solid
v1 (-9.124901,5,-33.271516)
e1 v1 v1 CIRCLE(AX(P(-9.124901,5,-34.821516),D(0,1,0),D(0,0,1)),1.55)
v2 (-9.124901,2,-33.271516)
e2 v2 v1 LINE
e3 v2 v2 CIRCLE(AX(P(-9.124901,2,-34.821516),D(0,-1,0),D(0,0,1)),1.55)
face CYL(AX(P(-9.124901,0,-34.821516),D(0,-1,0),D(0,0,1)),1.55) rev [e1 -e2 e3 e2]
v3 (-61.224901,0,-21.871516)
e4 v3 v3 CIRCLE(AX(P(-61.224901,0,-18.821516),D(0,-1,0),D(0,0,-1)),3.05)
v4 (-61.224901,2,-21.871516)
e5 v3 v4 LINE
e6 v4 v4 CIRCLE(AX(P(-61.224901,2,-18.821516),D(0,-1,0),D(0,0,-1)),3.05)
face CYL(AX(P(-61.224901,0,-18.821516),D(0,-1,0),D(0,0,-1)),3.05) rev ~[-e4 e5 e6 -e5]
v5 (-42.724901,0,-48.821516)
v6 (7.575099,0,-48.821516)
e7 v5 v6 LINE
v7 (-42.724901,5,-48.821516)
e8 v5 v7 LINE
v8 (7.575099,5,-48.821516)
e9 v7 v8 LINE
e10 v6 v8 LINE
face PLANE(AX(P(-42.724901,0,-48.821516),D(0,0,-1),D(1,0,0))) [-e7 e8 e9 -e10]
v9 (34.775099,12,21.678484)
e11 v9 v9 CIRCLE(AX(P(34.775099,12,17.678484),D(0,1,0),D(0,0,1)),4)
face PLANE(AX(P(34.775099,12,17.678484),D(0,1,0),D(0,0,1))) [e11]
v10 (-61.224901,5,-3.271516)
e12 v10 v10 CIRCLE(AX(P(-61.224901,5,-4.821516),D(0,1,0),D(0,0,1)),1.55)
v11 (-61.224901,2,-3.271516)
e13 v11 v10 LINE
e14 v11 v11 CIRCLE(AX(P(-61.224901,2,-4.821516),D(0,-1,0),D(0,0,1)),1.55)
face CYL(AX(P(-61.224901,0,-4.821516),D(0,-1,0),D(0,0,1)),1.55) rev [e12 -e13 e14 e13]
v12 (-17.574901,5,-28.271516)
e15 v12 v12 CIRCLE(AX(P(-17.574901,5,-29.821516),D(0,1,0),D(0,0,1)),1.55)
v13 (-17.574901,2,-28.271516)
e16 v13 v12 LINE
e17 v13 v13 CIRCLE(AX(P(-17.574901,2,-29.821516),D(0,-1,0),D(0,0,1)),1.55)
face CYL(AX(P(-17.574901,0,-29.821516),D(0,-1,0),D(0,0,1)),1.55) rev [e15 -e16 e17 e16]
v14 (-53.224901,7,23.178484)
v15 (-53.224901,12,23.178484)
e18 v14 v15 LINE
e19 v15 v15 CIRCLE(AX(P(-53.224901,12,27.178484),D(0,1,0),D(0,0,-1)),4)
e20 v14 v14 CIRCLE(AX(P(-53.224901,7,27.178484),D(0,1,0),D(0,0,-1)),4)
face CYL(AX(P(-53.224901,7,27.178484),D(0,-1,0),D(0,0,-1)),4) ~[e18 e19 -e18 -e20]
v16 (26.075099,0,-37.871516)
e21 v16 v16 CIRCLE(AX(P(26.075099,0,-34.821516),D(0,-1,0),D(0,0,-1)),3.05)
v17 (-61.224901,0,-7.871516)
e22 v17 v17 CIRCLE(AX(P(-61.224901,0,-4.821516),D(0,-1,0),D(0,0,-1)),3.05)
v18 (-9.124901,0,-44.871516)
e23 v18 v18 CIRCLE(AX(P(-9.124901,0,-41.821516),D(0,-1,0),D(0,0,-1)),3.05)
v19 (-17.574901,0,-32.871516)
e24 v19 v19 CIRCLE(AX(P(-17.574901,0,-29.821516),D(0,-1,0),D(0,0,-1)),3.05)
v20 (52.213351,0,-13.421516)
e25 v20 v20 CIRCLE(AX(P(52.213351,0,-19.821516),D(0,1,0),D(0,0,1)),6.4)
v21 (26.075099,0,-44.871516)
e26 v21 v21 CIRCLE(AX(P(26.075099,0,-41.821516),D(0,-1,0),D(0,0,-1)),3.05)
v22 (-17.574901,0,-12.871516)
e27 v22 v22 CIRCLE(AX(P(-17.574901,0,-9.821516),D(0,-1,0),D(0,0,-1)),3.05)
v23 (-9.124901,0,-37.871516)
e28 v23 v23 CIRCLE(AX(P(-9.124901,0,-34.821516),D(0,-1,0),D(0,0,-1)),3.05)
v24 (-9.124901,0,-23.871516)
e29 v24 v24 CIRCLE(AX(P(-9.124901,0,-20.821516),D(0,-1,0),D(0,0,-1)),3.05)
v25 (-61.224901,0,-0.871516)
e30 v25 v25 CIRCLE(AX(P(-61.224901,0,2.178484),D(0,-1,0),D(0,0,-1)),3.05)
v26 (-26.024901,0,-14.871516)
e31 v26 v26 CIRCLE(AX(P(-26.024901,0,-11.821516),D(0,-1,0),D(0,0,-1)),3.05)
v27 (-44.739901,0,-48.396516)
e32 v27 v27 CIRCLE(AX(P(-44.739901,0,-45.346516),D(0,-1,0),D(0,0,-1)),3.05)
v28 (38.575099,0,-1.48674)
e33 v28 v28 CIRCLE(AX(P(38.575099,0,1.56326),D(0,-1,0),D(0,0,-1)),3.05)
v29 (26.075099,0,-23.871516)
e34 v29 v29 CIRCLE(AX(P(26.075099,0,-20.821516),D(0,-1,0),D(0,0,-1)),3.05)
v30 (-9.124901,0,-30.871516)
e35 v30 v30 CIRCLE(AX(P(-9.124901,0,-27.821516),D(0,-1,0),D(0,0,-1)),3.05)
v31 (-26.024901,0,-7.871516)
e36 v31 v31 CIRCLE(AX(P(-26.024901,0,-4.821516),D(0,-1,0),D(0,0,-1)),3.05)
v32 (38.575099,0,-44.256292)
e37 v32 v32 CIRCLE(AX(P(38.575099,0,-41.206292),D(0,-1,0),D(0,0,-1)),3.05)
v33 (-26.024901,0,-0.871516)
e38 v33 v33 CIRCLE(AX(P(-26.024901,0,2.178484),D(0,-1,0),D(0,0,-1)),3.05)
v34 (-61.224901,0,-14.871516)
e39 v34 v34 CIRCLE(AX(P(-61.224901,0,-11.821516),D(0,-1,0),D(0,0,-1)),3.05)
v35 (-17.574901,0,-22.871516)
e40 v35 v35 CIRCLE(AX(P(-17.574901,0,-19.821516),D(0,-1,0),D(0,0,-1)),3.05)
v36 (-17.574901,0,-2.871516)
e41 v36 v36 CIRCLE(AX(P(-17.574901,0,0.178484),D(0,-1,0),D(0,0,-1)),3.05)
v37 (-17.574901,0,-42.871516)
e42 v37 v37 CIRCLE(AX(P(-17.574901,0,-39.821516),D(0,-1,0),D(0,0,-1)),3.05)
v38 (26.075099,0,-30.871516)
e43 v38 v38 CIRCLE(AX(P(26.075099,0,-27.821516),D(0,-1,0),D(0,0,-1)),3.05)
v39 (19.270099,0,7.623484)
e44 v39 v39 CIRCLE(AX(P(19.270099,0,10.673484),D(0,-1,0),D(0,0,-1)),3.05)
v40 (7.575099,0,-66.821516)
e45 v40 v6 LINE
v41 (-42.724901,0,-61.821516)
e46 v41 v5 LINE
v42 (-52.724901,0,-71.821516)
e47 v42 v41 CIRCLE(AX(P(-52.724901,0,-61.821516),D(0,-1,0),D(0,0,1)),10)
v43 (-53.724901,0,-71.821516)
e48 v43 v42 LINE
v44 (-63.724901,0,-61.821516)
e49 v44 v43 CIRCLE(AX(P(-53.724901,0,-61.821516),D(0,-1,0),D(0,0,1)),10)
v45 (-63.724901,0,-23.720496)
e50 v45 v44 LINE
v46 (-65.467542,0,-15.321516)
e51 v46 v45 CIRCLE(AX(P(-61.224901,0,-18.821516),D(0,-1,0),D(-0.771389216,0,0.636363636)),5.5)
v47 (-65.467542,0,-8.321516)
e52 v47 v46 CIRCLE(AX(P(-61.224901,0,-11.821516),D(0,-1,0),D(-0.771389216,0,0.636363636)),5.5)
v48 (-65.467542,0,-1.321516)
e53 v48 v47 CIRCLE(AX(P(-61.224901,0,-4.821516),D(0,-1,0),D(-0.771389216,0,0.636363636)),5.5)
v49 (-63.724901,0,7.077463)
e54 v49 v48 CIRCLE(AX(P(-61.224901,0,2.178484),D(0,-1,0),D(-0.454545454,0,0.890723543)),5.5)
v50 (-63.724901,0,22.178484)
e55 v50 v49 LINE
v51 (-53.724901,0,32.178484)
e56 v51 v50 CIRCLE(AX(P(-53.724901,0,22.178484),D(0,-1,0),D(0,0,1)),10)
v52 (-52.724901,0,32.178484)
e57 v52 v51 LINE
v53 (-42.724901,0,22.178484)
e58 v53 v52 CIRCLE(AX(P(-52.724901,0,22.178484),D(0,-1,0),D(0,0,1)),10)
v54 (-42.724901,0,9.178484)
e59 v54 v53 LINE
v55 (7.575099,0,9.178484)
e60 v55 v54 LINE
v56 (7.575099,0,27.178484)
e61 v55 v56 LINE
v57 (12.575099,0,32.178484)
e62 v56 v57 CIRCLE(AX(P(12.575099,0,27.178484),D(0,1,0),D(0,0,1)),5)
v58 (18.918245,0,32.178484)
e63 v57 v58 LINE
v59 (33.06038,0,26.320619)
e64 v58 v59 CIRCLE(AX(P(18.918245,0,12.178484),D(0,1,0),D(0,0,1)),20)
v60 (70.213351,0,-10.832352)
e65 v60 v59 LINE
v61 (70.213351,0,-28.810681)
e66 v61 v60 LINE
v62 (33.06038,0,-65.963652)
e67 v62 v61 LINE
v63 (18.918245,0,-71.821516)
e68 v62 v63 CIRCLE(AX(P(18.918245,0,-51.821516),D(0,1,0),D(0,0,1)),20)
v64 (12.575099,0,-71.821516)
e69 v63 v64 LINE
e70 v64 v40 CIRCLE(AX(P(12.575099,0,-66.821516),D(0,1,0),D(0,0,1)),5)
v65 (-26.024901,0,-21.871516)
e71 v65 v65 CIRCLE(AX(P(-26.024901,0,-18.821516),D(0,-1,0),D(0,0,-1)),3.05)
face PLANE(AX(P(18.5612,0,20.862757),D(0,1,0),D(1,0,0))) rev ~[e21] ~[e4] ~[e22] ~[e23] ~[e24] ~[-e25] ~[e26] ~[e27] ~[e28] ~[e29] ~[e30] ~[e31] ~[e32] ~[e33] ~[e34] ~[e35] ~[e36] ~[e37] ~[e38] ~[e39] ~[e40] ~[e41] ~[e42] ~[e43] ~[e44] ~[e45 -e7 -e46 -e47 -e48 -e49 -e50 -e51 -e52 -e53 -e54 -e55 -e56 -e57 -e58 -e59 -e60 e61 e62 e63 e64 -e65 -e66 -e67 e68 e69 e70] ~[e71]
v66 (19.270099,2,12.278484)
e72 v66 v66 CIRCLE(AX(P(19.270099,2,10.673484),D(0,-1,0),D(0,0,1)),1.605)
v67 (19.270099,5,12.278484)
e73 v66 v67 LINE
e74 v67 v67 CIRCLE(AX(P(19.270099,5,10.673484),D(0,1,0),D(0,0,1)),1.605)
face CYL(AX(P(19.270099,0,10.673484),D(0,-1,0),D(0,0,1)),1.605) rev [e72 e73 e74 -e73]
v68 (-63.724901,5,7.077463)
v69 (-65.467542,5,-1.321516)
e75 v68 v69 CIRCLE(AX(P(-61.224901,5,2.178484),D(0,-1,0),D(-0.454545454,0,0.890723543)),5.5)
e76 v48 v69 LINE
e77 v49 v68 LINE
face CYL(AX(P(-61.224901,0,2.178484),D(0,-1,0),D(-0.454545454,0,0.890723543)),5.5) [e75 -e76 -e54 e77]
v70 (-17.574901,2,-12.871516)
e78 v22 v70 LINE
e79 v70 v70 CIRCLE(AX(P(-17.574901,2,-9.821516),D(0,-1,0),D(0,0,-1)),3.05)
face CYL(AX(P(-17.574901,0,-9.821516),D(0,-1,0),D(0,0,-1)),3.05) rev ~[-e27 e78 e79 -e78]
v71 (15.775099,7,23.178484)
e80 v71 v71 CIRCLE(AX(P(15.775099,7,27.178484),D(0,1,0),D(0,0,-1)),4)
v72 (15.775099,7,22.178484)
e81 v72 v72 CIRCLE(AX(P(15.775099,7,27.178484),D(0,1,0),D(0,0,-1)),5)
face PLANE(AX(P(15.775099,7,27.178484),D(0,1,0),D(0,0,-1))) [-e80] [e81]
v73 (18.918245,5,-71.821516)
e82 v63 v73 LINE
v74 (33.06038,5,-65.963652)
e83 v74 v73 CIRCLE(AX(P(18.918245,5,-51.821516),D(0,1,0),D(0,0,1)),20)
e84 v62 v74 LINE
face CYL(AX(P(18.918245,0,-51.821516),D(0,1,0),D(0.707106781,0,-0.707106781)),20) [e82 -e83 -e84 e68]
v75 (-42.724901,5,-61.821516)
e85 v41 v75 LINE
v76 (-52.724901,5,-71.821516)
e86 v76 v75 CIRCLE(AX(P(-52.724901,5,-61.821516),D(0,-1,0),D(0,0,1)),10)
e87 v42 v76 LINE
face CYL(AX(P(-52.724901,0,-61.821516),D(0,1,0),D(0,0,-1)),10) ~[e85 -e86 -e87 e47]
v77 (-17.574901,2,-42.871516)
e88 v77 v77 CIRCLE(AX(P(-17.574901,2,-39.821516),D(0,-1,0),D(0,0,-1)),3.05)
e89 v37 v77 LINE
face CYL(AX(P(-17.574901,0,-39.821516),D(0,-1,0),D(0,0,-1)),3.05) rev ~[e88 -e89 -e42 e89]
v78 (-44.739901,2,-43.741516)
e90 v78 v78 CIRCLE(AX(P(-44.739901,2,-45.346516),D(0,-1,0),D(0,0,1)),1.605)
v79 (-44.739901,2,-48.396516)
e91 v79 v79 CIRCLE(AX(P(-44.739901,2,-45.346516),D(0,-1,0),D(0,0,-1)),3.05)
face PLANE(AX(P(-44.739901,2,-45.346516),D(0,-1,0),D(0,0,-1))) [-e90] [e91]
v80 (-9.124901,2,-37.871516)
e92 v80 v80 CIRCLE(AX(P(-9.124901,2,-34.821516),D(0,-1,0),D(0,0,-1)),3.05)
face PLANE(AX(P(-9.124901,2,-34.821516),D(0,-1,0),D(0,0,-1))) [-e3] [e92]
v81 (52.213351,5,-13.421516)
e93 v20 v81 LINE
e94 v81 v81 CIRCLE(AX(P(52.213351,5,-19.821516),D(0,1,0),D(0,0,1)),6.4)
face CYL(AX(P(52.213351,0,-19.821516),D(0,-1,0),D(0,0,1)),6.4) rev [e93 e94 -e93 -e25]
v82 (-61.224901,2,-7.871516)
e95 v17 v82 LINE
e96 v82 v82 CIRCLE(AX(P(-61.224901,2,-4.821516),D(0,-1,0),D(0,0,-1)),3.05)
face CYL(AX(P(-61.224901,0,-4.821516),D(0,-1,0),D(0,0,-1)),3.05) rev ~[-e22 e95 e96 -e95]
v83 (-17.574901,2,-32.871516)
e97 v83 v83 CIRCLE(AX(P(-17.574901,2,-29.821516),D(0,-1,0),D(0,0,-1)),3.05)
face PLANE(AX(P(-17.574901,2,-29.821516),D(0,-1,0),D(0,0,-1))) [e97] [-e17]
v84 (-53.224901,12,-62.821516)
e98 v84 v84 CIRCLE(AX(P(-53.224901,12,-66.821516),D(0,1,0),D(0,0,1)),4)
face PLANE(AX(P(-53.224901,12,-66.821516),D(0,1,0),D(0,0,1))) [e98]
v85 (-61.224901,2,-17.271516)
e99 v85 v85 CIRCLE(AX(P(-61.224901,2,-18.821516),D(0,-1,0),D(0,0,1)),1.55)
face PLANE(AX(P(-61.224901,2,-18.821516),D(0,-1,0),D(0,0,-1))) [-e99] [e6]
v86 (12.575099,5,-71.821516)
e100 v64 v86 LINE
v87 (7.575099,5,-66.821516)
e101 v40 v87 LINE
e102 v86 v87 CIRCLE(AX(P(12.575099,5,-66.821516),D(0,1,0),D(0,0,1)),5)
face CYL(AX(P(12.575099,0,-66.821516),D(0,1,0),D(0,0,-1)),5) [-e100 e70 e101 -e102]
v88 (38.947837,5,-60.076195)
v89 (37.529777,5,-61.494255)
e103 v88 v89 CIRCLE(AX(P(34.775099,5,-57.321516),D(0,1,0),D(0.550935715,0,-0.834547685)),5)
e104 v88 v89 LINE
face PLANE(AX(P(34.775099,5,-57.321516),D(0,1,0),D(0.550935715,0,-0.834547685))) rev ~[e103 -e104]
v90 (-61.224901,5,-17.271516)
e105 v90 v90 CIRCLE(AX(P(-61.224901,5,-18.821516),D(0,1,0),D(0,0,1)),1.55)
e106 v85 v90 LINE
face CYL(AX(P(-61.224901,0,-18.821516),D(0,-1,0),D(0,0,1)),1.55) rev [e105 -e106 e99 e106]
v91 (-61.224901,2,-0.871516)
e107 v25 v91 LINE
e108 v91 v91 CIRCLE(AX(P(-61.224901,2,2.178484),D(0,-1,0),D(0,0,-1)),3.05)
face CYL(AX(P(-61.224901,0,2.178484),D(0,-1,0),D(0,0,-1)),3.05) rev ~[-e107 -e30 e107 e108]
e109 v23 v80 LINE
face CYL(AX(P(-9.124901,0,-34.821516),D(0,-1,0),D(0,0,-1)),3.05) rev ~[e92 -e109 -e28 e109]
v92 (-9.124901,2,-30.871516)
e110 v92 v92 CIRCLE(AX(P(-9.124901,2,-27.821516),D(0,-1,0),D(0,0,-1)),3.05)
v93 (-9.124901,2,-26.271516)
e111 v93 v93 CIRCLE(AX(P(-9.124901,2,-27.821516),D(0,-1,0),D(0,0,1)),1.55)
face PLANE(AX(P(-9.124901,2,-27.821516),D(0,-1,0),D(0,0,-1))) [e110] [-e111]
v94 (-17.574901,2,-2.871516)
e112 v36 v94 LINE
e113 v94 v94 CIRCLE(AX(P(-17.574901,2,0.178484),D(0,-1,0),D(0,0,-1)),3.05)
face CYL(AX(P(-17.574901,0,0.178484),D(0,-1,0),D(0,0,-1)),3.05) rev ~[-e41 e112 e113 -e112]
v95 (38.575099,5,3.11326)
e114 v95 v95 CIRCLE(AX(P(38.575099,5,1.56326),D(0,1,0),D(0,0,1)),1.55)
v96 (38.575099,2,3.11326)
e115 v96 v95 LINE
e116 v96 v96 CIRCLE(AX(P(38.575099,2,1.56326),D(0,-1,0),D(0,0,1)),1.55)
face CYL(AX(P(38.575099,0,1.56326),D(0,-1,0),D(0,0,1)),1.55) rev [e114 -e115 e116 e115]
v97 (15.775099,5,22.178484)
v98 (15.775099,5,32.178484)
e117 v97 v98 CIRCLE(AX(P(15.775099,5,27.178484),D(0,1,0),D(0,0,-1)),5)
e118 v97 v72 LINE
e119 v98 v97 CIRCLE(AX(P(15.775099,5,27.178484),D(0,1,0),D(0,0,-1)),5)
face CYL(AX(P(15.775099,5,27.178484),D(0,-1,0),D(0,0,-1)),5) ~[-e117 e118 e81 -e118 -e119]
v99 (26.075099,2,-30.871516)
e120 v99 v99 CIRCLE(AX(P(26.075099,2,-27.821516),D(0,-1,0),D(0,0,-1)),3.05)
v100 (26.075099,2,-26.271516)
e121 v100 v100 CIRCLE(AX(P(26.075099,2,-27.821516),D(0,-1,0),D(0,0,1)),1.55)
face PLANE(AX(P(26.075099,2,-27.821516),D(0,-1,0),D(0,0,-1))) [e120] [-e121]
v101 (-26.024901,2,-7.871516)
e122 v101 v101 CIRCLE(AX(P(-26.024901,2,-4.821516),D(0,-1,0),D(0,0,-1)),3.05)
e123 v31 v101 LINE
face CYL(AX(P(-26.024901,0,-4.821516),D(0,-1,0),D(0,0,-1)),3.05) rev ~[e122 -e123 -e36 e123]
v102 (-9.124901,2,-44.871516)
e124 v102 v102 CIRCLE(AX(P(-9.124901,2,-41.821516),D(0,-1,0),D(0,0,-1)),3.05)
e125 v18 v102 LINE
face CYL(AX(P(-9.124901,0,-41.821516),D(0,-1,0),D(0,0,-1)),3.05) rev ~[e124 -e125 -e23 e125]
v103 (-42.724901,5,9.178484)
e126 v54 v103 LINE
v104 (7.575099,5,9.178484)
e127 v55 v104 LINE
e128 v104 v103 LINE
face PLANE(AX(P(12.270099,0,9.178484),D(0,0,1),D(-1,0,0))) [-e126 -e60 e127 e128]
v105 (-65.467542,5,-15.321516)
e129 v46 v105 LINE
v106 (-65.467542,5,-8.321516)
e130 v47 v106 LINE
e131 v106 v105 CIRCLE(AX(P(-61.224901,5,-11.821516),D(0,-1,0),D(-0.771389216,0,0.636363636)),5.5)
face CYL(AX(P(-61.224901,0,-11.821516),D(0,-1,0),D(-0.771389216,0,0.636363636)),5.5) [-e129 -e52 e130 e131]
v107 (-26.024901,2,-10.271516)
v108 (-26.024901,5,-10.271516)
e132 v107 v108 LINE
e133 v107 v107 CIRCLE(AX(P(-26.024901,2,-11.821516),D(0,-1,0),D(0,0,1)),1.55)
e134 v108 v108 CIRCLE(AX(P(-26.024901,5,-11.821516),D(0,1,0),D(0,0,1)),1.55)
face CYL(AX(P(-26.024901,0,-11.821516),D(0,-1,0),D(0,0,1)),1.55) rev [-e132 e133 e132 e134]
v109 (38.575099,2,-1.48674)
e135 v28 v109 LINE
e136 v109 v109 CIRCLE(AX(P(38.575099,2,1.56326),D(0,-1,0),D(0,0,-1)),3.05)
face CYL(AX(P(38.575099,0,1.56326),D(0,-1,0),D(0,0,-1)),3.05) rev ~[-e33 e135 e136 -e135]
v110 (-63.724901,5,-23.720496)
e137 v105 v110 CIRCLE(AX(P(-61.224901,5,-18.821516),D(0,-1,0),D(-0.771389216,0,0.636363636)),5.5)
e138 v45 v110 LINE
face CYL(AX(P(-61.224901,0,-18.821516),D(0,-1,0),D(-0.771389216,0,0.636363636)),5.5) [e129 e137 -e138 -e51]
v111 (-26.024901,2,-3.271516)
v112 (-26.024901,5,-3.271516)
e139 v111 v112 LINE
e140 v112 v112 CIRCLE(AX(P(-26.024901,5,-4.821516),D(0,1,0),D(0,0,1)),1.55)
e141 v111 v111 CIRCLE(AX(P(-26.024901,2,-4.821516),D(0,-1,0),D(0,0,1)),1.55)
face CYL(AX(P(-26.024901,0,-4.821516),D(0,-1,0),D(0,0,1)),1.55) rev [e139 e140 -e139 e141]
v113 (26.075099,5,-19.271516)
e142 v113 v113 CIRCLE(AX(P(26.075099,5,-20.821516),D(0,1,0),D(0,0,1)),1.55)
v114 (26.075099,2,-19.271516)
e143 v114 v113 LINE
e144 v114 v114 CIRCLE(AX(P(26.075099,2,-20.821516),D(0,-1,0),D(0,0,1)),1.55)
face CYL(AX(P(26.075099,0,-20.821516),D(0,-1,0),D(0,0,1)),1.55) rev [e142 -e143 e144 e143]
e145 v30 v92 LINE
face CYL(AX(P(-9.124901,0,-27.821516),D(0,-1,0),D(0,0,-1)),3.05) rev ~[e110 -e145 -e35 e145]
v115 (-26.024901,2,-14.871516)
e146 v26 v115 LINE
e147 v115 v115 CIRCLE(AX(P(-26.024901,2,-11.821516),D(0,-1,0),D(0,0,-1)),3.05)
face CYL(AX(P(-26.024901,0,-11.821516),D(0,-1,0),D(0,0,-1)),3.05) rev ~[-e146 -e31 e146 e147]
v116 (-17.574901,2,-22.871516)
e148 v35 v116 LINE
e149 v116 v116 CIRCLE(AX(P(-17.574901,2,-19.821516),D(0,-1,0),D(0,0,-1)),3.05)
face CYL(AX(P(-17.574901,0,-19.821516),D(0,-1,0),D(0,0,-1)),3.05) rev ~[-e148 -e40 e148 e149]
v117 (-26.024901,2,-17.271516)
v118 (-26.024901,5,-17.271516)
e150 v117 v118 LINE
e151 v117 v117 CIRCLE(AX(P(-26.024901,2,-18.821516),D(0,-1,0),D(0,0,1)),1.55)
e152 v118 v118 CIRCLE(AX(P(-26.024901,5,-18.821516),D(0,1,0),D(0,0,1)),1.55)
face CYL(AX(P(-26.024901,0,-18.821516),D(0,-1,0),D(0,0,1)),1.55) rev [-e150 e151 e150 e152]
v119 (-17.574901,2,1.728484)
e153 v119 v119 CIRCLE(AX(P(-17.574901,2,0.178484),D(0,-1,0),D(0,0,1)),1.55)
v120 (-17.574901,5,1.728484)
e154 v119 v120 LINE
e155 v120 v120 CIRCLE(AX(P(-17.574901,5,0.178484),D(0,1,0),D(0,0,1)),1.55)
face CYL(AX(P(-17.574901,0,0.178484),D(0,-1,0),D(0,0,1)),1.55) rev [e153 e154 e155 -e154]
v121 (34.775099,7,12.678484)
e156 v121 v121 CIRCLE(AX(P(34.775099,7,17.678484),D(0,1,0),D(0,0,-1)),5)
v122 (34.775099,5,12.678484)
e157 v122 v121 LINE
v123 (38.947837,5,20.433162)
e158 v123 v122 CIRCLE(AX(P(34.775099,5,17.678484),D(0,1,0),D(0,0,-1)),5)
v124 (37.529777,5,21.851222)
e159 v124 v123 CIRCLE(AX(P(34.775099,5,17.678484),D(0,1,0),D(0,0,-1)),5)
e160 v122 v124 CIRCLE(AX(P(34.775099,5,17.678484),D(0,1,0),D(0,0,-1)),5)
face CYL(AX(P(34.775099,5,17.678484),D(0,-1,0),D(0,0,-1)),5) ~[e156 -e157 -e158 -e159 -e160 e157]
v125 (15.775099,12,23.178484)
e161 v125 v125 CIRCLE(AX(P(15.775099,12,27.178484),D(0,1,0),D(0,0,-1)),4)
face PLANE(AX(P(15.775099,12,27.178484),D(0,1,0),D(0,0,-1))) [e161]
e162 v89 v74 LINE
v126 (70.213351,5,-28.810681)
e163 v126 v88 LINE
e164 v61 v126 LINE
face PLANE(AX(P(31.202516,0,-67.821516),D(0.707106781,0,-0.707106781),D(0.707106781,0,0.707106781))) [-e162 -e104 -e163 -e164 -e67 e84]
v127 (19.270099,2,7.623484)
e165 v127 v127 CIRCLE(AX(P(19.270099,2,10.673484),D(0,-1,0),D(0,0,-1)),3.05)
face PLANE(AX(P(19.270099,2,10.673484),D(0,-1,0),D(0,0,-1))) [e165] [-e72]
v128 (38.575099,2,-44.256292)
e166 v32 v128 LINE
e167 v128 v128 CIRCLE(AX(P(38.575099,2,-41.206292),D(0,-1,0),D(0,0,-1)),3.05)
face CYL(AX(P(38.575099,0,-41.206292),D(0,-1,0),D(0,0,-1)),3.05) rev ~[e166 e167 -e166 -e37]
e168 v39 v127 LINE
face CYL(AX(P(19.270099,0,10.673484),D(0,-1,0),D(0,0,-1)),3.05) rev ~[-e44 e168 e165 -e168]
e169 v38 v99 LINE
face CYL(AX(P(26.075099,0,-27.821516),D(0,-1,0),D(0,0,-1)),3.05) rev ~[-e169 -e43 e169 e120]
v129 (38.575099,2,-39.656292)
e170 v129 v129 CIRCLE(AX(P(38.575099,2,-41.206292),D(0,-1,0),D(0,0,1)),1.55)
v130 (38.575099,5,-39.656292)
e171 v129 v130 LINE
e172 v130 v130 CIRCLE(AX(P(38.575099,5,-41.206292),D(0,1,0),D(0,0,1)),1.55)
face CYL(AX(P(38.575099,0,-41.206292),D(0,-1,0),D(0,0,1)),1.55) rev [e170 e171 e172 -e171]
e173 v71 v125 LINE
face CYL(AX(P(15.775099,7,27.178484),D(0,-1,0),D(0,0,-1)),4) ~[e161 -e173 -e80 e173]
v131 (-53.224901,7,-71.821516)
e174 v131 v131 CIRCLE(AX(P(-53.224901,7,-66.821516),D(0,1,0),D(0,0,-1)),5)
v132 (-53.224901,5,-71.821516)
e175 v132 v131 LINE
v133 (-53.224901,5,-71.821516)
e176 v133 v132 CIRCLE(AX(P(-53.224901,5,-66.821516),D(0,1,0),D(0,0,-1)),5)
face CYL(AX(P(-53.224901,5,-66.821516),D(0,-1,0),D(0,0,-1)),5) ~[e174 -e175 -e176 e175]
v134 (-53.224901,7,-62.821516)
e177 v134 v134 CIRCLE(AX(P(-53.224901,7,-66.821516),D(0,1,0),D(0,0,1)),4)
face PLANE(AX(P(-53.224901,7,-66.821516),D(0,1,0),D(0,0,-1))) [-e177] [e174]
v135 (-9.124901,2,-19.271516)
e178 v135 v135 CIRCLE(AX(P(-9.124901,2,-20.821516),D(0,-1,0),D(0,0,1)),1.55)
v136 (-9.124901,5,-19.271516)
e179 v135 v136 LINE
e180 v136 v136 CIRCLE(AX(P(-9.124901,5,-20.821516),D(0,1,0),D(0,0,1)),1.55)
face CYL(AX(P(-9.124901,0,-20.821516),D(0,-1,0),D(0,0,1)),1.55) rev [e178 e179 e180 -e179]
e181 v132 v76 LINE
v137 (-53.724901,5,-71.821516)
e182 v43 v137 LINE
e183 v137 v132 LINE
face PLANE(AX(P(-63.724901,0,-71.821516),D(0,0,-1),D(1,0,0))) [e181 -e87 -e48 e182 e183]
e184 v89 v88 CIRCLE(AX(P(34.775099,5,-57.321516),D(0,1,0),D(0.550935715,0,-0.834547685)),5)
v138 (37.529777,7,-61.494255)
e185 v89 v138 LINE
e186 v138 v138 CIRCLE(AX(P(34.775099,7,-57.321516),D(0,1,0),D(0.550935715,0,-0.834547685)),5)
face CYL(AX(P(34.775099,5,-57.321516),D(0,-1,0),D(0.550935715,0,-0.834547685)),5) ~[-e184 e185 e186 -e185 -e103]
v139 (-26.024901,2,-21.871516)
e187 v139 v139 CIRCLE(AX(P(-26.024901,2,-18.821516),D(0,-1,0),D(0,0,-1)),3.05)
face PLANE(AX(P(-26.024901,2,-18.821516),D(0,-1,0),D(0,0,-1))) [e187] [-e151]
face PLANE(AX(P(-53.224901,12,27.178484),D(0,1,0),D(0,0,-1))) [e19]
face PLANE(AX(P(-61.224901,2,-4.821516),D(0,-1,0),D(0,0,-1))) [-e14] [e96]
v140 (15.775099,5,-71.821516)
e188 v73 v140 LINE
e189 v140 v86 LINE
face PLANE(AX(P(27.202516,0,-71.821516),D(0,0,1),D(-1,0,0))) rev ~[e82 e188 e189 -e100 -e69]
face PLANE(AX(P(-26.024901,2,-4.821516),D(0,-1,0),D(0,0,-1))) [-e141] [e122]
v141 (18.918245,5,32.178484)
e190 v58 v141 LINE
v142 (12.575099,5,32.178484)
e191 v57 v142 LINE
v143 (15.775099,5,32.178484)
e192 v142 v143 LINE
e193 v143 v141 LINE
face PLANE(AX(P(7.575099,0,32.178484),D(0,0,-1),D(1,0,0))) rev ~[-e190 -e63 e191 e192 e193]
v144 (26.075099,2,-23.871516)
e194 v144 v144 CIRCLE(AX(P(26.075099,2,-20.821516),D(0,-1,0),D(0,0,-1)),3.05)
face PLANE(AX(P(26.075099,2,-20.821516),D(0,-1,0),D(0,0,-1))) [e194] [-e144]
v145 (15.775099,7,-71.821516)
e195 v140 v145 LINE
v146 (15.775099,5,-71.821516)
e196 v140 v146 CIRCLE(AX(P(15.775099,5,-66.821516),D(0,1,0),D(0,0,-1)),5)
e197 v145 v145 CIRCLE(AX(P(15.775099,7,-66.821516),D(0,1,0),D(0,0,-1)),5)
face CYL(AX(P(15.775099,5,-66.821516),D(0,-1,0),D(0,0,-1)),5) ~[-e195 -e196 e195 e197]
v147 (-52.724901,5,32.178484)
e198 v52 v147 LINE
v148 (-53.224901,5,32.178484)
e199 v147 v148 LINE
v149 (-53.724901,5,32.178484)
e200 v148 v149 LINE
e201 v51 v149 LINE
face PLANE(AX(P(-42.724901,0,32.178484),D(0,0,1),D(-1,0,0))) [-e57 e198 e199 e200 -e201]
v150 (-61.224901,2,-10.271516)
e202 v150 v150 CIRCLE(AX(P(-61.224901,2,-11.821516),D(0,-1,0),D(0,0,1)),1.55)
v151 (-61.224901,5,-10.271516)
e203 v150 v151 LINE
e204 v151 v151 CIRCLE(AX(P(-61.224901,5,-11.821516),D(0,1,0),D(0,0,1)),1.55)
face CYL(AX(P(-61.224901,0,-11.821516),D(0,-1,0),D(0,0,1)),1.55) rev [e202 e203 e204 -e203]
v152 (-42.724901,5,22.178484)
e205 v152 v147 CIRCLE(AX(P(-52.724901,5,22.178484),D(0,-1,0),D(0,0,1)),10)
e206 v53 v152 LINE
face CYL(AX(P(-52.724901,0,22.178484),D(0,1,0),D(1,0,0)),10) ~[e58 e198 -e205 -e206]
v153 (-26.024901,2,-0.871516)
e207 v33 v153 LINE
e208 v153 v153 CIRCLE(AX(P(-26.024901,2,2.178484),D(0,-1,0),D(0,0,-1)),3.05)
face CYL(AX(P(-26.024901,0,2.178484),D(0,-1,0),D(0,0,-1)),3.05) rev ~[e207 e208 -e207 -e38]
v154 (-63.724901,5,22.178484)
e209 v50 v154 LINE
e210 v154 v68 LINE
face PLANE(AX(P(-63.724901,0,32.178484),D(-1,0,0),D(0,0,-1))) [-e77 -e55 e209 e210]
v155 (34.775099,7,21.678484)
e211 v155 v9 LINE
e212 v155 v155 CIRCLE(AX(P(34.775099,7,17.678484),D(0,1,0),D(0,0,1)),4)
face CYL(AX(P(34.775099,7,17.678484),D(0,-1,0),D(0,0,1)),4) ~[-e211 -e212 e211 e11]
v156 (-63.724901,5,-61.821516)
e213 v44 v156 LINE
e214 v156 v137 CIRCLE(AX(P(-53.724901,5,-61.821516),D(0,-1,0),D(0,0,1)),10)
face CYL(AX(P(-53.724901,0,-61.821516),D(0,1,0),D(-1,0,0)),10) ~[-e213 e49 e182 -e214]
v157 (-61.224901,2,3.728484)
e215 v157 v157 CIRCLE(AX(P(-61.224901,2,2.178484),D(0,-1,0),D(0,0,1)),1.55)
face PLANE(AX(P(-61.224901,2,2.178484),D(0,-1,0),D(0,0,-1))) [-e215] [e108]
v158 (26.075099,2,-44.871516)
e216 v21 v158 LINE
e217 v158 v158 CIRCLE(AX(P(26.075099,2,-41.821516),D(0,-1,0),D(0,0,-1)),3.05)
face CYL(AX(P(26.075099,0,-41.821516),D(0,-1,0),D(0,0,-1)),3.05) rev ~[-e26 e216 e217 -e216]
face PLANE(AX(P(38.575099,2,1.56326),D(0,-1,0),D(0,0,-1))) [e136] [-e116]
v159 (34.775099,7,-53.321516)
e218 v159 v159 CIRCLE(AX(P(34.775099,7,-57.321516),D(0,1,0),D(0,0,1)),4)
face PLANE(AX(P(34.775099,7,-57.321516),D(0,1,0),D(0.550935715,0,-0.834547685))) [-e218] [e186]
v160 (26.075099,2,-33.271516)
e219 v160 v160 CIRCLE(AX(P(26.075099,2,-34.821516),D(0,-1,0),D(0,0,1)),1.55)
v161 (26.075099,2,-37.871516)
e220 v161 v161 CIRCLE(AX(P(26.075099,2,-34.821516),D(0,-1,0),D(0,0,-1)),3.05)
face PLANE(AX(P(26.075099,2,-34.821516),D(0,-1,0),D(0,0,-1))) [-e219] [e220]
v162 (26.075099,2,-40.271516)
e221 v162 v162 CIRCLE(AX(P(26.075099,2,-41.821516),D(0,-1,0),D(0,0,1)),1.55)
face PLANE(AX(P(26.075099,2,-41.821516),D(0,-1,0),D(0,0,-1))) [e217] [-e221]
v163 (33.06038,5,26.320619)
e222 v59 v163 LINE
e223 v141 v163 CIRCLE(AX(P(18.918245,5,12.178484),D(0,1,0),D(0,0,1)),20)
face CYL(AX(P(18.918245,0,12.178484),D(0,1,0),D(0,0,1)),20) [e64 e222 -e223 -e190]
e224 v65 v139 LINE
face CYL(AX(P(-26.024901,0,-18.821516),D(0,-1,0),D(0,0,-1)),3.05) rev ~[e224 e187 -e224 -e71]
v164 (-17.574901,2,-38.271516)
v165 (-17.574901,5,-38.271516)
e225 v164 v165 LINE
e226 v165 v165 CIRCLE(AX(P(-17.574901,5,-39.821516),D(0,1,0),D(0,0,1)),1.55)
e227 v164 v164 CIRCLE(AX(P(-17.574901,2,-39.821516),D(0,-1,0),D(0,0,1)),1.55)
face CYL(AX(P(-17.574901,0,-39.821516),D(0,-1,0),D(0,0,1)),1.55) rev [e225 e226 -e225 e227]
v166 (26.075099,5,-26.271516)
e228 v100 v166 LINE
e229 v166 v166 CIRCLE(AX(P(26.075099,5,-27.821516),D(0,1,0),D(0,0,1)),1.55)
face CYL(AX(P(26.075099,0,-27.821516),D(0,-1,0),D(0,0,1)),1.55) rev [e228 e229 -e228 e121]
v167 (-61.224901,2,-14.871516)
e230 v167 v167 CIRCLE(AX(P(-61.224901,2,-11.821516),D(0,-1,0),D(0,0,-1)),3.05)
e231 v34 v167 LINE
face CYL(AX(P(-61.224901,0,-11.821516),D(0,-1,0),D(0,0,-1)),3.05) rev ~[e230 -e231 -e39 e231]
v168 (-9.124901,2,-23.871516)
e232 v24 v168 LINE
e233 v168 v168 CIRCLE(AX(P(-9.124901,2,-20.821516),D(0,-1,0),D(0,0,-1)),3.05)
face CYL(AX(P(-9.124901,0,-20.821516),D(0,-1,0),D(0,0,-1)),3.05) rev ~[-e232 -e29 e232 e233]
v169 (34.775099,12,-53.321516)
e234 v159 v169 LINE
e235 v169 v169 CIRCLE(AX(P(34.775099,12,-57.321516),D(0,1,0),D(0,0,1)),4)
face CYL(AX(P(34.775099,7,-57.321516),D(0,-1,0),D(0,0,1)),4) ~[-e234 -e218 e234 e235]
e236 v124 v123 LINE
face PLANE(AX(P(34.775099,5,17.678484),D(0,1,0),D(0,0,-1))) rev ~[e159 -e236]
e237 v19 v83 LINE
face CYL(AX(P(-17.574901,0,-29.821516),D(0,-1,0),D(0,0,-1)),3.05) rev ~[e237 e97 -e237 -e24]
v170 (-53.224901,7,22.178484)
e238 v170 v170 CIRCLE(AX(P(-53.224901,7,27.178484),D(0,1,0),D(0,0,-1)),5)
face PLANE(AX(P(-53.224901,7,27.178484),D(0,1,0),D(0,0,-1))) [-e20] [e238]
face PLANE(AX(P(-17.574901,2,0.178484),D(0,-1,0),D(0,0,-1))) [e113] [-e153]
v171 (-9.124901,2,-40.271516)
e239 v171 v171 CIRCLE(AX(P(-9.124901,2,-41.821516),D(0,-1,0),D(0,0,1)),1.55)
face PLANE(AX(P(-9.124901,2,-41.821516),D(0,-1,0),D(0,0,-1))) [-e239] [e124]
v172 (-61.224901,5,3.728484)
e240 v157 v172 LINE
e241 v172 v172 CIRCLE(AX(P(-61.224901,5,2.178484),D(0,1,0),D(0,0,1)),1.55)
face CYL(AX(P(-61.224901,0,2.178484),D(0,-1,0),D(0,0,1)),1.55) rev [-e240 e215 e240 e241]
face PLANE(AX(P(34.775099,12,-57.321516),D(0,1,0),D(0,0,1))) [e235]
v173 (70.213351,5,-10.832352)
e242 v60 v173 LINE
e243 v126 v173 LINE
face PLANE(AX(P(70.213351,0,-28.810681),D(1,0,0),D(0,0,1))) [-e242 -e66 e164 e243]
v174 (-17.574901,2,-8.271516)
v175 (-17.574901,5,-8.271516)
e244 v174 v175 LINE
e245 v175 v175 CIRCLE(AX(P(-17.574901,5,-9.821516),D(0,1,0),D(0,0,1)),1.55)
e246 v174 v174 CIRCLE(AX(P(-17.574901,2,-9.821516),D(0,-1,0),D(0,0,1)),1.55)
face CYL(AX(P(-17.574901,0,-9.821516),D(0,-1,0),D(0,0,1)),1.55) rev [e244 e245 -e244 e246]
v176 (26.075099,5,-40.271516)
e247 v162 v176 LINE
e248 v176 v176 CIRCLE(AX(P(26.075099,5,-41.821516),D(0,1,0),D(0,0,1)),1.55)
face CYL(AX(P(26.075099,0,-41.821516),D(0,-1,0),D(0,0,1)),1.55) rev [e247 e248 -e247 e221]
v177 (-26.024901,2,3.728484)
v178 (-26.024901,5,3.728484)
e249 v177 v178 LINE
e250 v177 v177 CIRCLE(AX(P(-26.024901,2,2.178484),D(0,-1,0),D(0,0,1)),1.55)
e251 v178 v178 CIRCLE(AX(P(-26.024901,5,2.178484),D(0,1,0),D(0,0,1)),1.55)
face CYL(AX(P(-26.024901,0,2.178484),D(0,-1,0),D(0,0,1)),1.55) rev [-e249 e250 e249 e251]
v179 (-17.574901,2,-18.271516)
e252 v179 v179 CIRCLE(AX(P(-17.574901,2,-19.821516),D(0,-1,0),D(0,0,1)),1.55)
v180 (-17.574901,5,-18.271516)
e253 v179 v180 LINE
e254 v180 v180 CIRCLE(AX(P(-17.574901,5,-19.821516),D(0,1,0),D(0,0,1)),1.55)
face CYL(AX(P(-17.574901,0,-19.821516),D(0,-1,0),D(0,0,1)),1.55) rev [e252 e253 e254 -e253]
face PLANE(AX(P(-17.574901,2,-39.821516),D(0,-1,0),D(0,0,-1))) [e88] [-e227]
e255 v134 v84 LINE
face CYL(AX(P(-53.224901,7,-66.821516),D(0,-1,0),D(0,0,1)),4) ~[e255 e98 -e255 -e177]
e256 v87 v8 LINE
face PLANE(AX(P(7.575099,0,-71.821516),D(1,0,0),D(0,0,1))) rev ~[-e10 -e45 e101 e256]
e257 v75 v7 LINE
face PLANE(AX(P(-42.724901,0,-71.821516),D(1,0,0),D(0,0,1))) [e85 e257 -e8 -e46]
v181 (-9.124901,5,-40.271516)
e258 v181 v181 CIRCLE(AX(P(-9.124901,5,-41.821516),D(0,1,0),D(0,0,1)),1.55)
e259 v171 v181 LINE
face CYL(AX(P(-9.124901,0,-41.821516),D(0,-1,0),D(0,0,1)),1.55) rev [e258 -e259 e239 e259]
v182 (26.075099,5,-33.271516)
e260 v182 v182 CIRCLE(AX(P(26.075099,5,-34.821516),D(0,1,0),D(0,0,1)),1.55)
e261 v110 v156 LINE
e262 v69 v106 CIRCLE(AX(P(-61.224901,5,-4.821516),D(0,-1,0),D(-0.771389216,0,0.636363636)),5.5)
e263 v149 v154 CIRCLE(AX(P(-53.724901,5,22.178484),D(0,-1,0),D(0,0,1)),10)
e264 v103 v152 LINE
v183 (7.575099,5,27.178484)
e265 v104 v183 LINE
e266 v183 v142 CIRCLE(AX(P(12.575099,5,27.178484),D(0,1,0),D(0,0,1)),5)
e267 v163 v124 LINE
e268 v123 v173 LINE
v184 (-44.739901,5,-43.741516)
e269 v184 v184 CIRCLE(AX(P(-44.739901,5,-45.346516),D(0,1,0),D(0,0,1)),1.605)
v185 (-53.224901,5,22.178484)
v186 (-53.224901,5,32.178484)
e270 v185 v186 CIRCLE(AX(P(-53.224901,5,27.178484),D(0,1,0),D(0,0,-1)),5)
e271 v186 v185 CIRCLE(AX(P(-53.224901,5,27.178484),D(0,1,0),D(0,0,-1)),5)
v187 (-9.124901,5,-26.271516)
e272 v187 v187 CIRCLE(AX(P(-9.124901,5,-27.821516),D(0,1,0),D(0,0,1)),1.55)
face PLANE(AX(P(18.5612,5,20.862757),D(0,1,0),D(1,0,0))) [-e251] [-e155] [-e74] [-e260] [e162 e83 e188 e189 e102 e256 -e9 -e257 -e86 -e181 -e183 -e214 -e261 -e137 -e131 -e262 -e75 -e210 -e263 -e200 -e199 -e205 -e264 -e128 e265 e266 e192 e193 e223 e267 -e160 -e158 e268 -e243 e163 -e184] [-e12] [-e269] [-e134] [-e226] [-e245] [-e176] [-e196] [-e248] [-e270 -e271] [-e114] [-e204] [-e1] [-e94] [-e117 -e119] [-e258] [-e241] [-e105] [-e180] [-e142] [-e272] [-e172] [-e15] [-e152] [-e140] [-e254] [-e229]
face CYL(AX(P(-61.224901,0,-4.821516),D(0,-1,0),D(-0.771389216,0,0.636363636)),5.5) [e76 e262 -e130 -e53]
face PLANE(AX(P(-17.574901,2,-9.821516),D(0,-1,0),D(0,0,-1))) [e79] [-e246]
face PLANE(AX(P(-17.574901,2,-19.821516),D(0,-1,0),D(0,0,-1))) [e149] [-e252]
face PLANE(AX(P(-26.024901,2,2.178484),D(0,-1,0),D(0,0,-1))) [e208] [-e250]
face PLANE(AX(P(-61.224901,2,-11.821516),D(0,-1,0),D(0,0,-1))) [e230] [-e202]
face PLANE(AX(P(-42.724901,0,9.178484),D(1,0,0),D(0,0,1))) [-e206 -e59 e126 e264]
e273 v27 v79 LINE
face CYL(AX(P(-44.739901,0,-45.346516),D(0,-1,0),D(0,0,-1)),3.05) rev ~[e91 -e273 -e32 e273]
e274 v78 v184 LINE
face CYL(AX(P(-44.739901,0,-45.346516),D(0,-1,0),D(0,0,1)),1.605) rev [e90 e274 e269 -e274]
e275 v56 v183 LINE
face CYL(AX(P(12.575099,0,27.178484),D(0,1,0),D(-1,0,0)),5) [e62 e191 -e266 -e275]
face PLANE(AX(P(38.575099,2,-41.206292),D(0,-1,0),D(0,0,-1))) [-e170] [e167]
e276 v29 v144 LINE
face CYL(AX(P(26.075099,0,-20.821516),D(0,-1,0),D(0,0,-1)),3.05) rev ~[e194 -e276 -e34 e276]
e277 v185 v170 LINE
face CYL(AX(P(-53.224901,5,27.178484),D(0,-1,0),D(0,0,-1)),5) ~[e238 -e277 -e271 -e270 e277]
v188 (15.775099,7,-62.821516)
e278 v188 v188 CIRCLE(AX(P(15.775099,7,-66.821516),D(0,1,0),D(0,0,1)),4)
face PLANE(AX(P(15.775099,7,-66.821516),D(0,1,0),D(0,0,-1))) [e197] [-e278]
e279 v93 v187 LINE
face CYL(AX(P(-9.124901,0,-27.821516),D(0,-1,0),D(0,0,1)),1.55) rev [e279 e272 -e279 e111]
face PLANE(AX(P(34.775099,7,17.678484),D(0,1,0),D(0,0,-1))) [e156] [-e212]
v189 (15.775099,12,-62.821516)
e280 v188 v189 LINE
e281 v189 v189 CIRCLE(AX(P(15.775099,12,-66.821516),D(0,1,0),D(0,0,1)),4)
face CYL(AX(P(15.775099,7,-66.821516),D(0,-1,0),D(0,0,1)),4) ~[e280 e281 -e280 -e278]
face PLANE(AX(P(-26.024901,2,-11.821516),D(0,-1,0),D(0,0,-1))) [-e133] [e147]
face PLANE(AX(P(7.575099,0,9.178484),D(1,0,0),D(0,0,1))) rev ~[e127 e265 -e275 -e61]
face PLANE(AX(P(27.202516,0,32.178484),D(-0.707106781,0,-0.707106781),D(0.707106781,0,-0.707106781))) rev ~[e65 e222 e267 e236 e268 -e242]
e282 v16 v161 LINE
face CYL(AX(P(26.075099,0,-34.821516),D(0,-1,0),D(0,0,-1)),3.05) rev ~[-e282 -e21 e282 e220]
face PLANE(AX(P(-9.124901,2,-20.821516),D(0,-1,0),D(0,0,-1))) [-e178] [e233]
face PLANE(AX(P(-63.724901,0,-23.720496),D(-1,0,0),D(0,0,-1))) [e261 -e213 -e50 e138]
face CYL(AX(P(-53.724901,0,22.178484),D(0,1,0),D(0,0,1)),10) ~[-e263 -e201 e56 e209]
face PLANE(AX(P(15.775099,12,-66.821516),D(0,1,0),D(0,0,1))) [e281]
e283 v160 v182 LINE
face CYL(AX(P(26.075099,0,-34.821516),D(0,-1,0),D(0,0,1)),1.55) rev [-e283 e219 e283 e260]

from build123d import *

# Parameters (mm, degrees)
SKETCH1_R           = 1.55
SKETCH1_R_2         = 6.4
SKETCH1_R_3         = 1.605
BOSS_EXTRUDE1_DEPTH = 5
SKETCH3_R           = 3.05
CUT_EXTRUDE1_DEPTH  = 2
BOSS_EXTRUDE3_DEPTH = 5
SKETCH7_R           = 5
BOSS_EXTRUDE4_DEPTH = 2
SKETCH8_R           = 4
BOSS_EXTRUDE5_DEPTH = 5
FILLET1_R           = 10
FILLET2_R           = 5
FILLET3_R           = 20


with BuildPart() as part:
    # Sketch1 → Boss-Extrude1 (new body)
    with BuildSketch(Plane(origin=(0, 0, 0), x_dir=(1, 0, 0), z_dir=(0, 1, 0))):
        with BuildLine():
            Line((28.57509878, 48.821516158), (28.57509878, 67.821516158))
            Line((28.57509878, 67.821516158), (31.202515778, 67.821516158))
            Line((31.202515778, 67.821516158), (70.213351221, 28.810680715))
            Line((70.213351221, 28.810680715), (70.213351221, 10.832351601))
            Line((70.213351221, 10.832351601), (31.202515778, -28.178483842))
            Line((31.202515778, -28.178483842), (28.57509878, -28.178483842))
            Line((28.57509878, -28.178483842), (28.57509878, -9.178483842))
            Line((28.57509878, -9.178483842), (26.27009878, -9.178483842))
            ThreePointArc((26.27009878, -9.178483842), (25.562991999, -9.471377061), (25.27009878, -10.178483842))
            Line((25.27009878, -10.178483842), (25.27009878, -10.673483842))
            ThreePointArc((25.27009878, -10.673483842), (19.27009878, -16.673483842), (13.27009878, -10.673483842))
            Line((13.27009878, -10.673483842), (13.27009878, -10.178483842))
            ThreePointArc((13.27009878, -10.178483842), (12.977205561, -9.471377061), (12.27009878, -9.178483842))
            Line((12.27009878, -9.178483842), (-42.72490122, -9.178483842))
            Line((-42.72490122, -9.178483842), (-42.72490122, -32.178483842))
            Line((-42.72490122, -32.178483842), (-63.72490122, -32.178483842))
            Line((-63.72490122, -32.178483842), (-63.72490122, -7.077463327))
            ThreePointArc((-63.72490122, -7.077463327), (-66.610206686, -3.295840115), (-65.467541907, 1.321516158))
            ThreePointArc((-65.467541907, 1.321516158), (-66.72490122, 4.821516158), (-65.467541907, 8.321516158))
            ThreePointArc((-65.467541907, 8.321516158), (-66.72490122, 11.821516158), (-65.467541907, 15.321516158))
            ThreePointArc((-65.467541907, 15.321516158), (-66.610206686, 19.938872432), (-63.72490122, 23.720495644))
            Line((-63.72490122, 23.720495644), (-63.72490122, 71.821516158))
            Line((-63.72490122, 71.821516158), (-42.72490122, 71.821516158))
            Line((-42.72490122, 71.821516158), (-42.72490122, 48.821516158))
            Line((-42.72490122, 48.821516158), (12.27009878, 48.821516158))
            ThreePointArc((12.27009878, 48.821516158), (12.977205561, 49.114409377), (13.27009878, 49.821516158))
            Line((13.27009878, 49.821516158), (13.27009878, 50.316516158))
            ThreePointArc((13.27009878, 50.316516158), (19.27009878, 56.316516158), (25.27009878, 50.316516158))
            Line((25.27009878, 50.316516158), (25.27009878, 49.821516158))
            ThreePointArc((25.27009878, 49.821516158), (25.562991999, 49.114409377), (26.27009878, 48.821516158))
            Line((26.27009878, 48.821516158), (28.57509878, 48.821516158))
        make_face()
        with Locations(Location((26.07509878, 20.821516158, 0), (0, 0, 270))):
            Circle(SKETCH1_R, mode=Mode.SUBTRACT)
        with Locations(Location((-9.12490122, 20.821516158, 0), (0, 0, 270))):
            Circle(SKETCH1_R, mode=Mode.SUBTRACT)
        with Locations(Location((-9.12490122, 27.821516158, 0), (0, 0, 270))):
            Circle(SKETCH1_R, mode=Mode.SUBTRACT)
        with Locations(Location((26.07509878, 27.821516158, 0), (0, 0, 270))):
            Circle(SKETCH1_R, mode=Mode.SUBTRACT)
        with Locations(Location((-9.12490122, 34.821516158, 0), (0, 0, 270))):
            Circle(SKETCH1_R, mode=Mode.SUBTRACT)
        with Locations(Location((26.07509878, 34.821516158, 0), (0, 0, 270))):
            Circle(SKETCH1_R, mode=Mode.SUBTRACT)
        with Locations(Location((-9.12490122, 41.821516158, 0), (0, 0, 270))):
            Circle(SKETCH1_R, mode=Mode.SUBTRACT)
        with Locations(Location((26.07509878, 41.821516158, 0), (0, 0, 270))):
            Circle(SKETCH1_R, mode=Mode.SUBTRACT)
        with Locations(Location((-26.02490122, -2.178483842, 0), (0, 0, 270))):
            Circle(SKETCH1_R, mode=Mode.SUBTRACT)
        with Locations(Location((-61.22490122, -2.178483842, 0), (0, 0, 270))):
            Circle(SKETCH1_R, mode=Mode.SUBTRACT)
        with Locations(Location((-26.02490122, 4.821516158, 0), (0, 0, 270))):
            Circle(SKETCH1_R, mode=Mode.SUBTRACT)
        with Locations(Location((-61.22490122, 4.821516158, 0), (0, 0, 270))):
            Circle(SKETCH1_R, mode=Mode.SUBTRACT)
        with Locations(Location((-26.02490122, 11.821516158, 0), (0, 0, 270))):
            Circle(SKETCH1_R, mode=Mode.SUBTRACT)
        with Locations(Location((-61.22490122, 11.821516158, 0), (0, 0, 270))):
            Circle(SKETCH1_R, mode=Mode.SUBTRACT)
        with Locations(Location((-26.02490122, 18.821516158, 0), (0, 0, 270))):
            Circle(SKETCH1_R, mode=Mode.SUBTRACT)
        with Locations(Location((-61.22490122, 18.821516158, 0), (0, 0, 270))):
            Circle(SKETCH1_R, mode=Mode.SUBTRACT)
        with Locations(Location((-17.57490122, 39.821516158, 0), (0, 0, 270))):
            Circle(SKETCH1_R, mode=Mode.SUBTRACT)
        with Locations(Location((-17.57490122, 29.821516158, 0), (0, 0, 270))):
            Circle(SKETCH1_R, mode=Mode.SUBTRACT)
        with Locations(Location((-17.57490122, 19.821516158, 0), (0, 0, 270))):
            Circle(SKETCH1_R, mode=Mode.SUBTRACT)
        with Locations(Location((-17.57490122, 9.821516158, 0), (0, 0, 270))):
            Circle(SKETCH1_R, mode=Mode.SUBTRACT)
        with Locations(Location((-17.57490122, -0.178483842, 0), (0, 0, 270))):
            Circle(SKETCH1_R, mode=Mode.SUBTRACT)
        with Locations(Location((52.213351221, 19.821516158, 0), (0, 0, 270))):
            Circle(SKETCH1_R_2, mode=Mode.SUBTRACT)
        with Locations(Location((19.27009878, -10.673483842, 0), (0, 0, 270))):
            Circle(SKETCH1_R_3, mode=Mode.SUBTRACT)
        with Locations(Location((-44.73990122, 45.346516158, 0), (0, 0, 270))):
            Circle(SKETCH1_R_3, mode=Mode.SUBTRACT)
        with Locations(Location((38.57509878, 41.206292469, 0), (0, 0, 270))):
            Circle(SKETCH1_R, mode=Mode.SUBTRACT)
        with Locations(Location((38.57509878, -1.563260153, 0), (0, 0, 270))):
            Circle(SKETCH1_R, mode=Mode.SUBTRACT)
    extrude(amount=BOSS_EXTRUDE1_DEPTH)

    # Sketch3 → Cut-Extrude1 (cut)
    with BuildSketch(Plane(origin=(0, 0, 0), x_dir=(-1, 0, 0), z_dir=(0, -1, 0))):
        with Locations(Location((61.22490122, -2.178483842, 0), (0, 0, 90))):
            Circle(SKETCH3_R)
        with Locations(Location((61.22490122, 4.821516158, 0), (0, 0, 90))):
            Circle(SKETCH3_R)
        with Locations(Location((61.22490122, 11.821516158, 0), (0, 0, 90))):
            Circle(SKETCH3_R)
        with Locations(Location((61.22490122, 18.821516158, 0), (0, 0, 90))):
            Circle(SKETCH3_R)
        with Locations(Location((26.02490122, -2.178483842, 0), (0, 0, 90))):
            Circle(SKETCH3_R)
        with Locations(Location((26.02490122, 4.821516158, 0), (0, 0, 90))):
            Circle(SKETCH3_R)
        with Locations(Location((26.02490122, 11.821516158, 0), (0, 0, 90))):
            Circle(SKETCH3_R)
        with Locations(Location((26.02490122, 18.821516158, 0), (0, 0, 90))):
            Circle(SKETCH3_R)
        with Locations(Location((17.57490122, -0.178483842, 0), (0, 0, 90))):
            Circle(SKETCH3_R)
        with Locations(Location((17.57490122, 9.821516158, 0), (0, 0, 90))):
            Circle(SKETCH3_R)
        with Locations(Location((17.57490122, 19.821516158, 0), (0, 0, 90))):
            Circle(SKETCH3_R)
        with Locations(Location((17.57490122, 29.821516158, 0), (0, 0, 90))):
            Circle(SKETCH3_R)
        with Locations(Location((17.57490122, 39.821516158, 0), (0, 0, 90))):
            Circle(SKETCH3_R)
        with Locations(Location((9.12490122, 20.821516158, 0), (0, 0, 90))):
            Circle(SKETCH3_R)
        with Locations(Location((9.12490122, 27.821516158, 0), (0, 0, 90))):
            Circle(SKETCH3_R)
        with Locations(Location((9.12490122, 34.821516158, 0), (0, 0, 90))):
            Circle(SKETCH3_R)
        with Locations(Location((9.12490122, 41.821516158, 0), (0, 0, 90))):
            Circle(SKETCH3_R)
        with Locations(Location((-26.07509878, 20.821516158, 0), (0, 0, 90))):
            Circle(SKETCH3_R)
        with Locations(Location((-26.07509878, 27.821516158, 0), (0, 0, 90))):
            Circle(SKETCH3_R)
        with Locations(Location((-26.07509878, 34.821516158, 0), (0, 0, 90))):
            Circle(SKETCH3_R)
        with Locations(Location((-26.07509878, 41.821516158, 0), (0, 0, 90))):
            Circle(SKETCH3_R)
        with Locations(Location((-19.27009878, -10.673483842, 0), (0, 0, 90))):
            Circle(SKETCH3_R)
        with Locations(Location((44.73990122, 45.346516158, 0), (0, 0, 90))):
            Circle(SKETCH3_R)
        with Locations(Location((-38.57509878, 41.206292469, 0), (0, 0, 90))):
            Circle(SKETCH3_R)
        with Locations(Location((-38.57509878, -1.563260153, 0), (0, 0, 90))):
            Circle(SKETCH3_R)
    extrude(amount=-CUT_EXTRUDE1_DEPTH, mode=Mode.SUBTRACT)

    # Sketch6 → Boss-Extrude3 (add)
    with BuildSketch(Plane(origin=(0, 0, 0), x_dir=(-1, 0, 0), z_dir=(0, -1, 0))):
        with BuildLine():
            Line((-7.57509878, -9.178483842), (-7.57509878, -32.178483842))
            Line((-7.57509878, -32.178483842), (-27.202515778, -32.178483842))
            Line((-27.202515778, -32.178483842), (-31.202515778, -28.178483842))
            Line((-31.202515778, -28.178483842), (-28.57509878, -28.178483842))
            Line((-28.57509878, -28.178483842), (-28.57509878, -9.178483842))
            Line((-28.57509878, -9.178483842), (-26.25257506, -9.178483842))
            ThreePointArc((-26.25257506, -9.178483842), (-25.520894021, -9.496836677), (-25.255078449, -10.249198127))
            ThreePointArc((-25.255078449, -10.249198127), (-19.27009878, -16.673483842), (-13.285119112, -10.249198127))
            ThreePointArc((-13.285119112, -10.249198127), (-13.019303539, -9.496836677), (-12.2876225, -9.178483842))
            Line((-12.2876225, -9.178483842), (-7.57509878, -9.178483842))
        make_face()
        with BuildLine():
            Line((-7.57509878, 48.821516158), (-12.2876225, 48.821516158))
            ThreePointArc((-12.2876225, 48.821516158), (-13.019303539, 49.139868994), (-13.285119112, 49.892230444))
            ThreePointArc((-13.285119112, 49.892230444), (-19.27009878, 56.316516158), (-25.255078449, 49.892230444))
            ThreePointArc((-25.255078449, 49.892230444), (-25.520894021, 49.139868994), (-26.25257506, 48.821516158))
            Line((-26.25257506, 48.821516158), (-28.57509878, 48.821516158))
            Line((-28.57509878, 48.821516158), (-28.57509878, 67.821516158))
            Line((-28.57509878, 67.821516158), (-31.202515778, 67.821516158))
            Line((-31.202515778, 67.821516158), (-27.202515778, 71.821516158))
            Line((-27.202515778, 71.821516158), (-7.57509878, 71.821516158))
            Line((-7.57509878, 71.821516158), (-7.57509878, 48.821516158))
        make_face()
    extrude(amount=-BOSS_EXTRUDE3_DEPTH)

    # Sketch7 → Boss-Extrude4 (add)
    with BuildSketch(Plane(origin=(0, 5, 0), x_dir=(1, 0, 0), z_dir=(0, 1, 0))):
        with Locations(Location((-53.22490122, 66.821516158, 0), (0, 0, 90))):
            Circle(SKETCH7_R)
        with Locations(Location((-53.22490122, -27.178483842, 0), (0, 0, 90))):
            Circle(SKETCH7_R)
        with Locations(Location((15.77509878, 66.821516158, 0), (0, 0, 90))):
            Circle(SKETCH7_R)
        with Locations(Location((15.77509878, -27.178483842, 0), (0, 0, 90))):
            Circle(SKETCH7_R)
        with Locations(Location((34.77509878, 57.321516158, 0), (0, 0, 56.568769374))):
            Circle(SKETCH7_R)
        with Locations(Location((34.77509878, -17.678483842, 0), (0, 0, 90))):
            Circle(SKETCH7_R)
    extrude(amount=BOSS_EXTRUDE4_DEPTH)

    # Sketch8 → Boss-Extrude5 (add)
    with BuildSketch(Plane(origin=(0, 7, 0), x_dir=(1, 0, 0), z_dir=(0, 1, 0))):
        with Locations(Location((-53.22490122, 66.821516158, 0), (0, 0, 270))):
            Circle(SKETCH8_R)
        with Locations(Location((-53.22490122, -27.178483842, 0), (0, 0, 90))):
            Circle(SKETCH8_R)
        with Locations(Location((15.77509878, 66.821516158, 0), (0, 0, 270))):
            Circle(SKETCH8_R)
        with Locations(Location((15.77509878, -27.178483842, 0), (0, 0, 90))):
            Circle(SKETCH8_R)
        with Locations(Location((34.77509878, 57.321516158, 0), (0, 0, 270))):
            Circle(SKETCH8_R)
        with Locations(Location((34.77509878, -17.678483842, 0), (0, 0, 270))):
            Circle(SKETCH8_R)
    extrude(amount=BOSS_EXTRUDE5_DEPTH)

    # Fillet1
    fillet1_edges = [part.edges().sort_by_distance(p)[0] for p in [
        (-42.72490122, 2.5, 32.178483842),
        (-63.72490122, 2.5, 32.178483842),
        (-63.72490122, 2.5, -71.821516158),
        (-42.72490122, 2.5, -71.821516158),
    ]]
    fillet(fillet1_edges, radius=FILLET1_R)

    # Fillet2
    fillet2_edges = [part.edges().sort_by_distance(p)[0] for p in [
        (7.57509878, 2.5, 32.178483842),
        (7.57509878, 2.5, -71.821516158),
    ]]
    fillet(fillet2_edges, radius=FILLET2_R)

    # Fillet3
    fillet3_edges = [part.edges().sort_by_distance(p)[0] for p in [
        (27.202515778, 2.5, 32.178483842),
        (27.202515778, 2.5, -71.821516158),
    ]]
    fillet(fillet3_edges, radius=FILLET3_R)


solid = part.part
